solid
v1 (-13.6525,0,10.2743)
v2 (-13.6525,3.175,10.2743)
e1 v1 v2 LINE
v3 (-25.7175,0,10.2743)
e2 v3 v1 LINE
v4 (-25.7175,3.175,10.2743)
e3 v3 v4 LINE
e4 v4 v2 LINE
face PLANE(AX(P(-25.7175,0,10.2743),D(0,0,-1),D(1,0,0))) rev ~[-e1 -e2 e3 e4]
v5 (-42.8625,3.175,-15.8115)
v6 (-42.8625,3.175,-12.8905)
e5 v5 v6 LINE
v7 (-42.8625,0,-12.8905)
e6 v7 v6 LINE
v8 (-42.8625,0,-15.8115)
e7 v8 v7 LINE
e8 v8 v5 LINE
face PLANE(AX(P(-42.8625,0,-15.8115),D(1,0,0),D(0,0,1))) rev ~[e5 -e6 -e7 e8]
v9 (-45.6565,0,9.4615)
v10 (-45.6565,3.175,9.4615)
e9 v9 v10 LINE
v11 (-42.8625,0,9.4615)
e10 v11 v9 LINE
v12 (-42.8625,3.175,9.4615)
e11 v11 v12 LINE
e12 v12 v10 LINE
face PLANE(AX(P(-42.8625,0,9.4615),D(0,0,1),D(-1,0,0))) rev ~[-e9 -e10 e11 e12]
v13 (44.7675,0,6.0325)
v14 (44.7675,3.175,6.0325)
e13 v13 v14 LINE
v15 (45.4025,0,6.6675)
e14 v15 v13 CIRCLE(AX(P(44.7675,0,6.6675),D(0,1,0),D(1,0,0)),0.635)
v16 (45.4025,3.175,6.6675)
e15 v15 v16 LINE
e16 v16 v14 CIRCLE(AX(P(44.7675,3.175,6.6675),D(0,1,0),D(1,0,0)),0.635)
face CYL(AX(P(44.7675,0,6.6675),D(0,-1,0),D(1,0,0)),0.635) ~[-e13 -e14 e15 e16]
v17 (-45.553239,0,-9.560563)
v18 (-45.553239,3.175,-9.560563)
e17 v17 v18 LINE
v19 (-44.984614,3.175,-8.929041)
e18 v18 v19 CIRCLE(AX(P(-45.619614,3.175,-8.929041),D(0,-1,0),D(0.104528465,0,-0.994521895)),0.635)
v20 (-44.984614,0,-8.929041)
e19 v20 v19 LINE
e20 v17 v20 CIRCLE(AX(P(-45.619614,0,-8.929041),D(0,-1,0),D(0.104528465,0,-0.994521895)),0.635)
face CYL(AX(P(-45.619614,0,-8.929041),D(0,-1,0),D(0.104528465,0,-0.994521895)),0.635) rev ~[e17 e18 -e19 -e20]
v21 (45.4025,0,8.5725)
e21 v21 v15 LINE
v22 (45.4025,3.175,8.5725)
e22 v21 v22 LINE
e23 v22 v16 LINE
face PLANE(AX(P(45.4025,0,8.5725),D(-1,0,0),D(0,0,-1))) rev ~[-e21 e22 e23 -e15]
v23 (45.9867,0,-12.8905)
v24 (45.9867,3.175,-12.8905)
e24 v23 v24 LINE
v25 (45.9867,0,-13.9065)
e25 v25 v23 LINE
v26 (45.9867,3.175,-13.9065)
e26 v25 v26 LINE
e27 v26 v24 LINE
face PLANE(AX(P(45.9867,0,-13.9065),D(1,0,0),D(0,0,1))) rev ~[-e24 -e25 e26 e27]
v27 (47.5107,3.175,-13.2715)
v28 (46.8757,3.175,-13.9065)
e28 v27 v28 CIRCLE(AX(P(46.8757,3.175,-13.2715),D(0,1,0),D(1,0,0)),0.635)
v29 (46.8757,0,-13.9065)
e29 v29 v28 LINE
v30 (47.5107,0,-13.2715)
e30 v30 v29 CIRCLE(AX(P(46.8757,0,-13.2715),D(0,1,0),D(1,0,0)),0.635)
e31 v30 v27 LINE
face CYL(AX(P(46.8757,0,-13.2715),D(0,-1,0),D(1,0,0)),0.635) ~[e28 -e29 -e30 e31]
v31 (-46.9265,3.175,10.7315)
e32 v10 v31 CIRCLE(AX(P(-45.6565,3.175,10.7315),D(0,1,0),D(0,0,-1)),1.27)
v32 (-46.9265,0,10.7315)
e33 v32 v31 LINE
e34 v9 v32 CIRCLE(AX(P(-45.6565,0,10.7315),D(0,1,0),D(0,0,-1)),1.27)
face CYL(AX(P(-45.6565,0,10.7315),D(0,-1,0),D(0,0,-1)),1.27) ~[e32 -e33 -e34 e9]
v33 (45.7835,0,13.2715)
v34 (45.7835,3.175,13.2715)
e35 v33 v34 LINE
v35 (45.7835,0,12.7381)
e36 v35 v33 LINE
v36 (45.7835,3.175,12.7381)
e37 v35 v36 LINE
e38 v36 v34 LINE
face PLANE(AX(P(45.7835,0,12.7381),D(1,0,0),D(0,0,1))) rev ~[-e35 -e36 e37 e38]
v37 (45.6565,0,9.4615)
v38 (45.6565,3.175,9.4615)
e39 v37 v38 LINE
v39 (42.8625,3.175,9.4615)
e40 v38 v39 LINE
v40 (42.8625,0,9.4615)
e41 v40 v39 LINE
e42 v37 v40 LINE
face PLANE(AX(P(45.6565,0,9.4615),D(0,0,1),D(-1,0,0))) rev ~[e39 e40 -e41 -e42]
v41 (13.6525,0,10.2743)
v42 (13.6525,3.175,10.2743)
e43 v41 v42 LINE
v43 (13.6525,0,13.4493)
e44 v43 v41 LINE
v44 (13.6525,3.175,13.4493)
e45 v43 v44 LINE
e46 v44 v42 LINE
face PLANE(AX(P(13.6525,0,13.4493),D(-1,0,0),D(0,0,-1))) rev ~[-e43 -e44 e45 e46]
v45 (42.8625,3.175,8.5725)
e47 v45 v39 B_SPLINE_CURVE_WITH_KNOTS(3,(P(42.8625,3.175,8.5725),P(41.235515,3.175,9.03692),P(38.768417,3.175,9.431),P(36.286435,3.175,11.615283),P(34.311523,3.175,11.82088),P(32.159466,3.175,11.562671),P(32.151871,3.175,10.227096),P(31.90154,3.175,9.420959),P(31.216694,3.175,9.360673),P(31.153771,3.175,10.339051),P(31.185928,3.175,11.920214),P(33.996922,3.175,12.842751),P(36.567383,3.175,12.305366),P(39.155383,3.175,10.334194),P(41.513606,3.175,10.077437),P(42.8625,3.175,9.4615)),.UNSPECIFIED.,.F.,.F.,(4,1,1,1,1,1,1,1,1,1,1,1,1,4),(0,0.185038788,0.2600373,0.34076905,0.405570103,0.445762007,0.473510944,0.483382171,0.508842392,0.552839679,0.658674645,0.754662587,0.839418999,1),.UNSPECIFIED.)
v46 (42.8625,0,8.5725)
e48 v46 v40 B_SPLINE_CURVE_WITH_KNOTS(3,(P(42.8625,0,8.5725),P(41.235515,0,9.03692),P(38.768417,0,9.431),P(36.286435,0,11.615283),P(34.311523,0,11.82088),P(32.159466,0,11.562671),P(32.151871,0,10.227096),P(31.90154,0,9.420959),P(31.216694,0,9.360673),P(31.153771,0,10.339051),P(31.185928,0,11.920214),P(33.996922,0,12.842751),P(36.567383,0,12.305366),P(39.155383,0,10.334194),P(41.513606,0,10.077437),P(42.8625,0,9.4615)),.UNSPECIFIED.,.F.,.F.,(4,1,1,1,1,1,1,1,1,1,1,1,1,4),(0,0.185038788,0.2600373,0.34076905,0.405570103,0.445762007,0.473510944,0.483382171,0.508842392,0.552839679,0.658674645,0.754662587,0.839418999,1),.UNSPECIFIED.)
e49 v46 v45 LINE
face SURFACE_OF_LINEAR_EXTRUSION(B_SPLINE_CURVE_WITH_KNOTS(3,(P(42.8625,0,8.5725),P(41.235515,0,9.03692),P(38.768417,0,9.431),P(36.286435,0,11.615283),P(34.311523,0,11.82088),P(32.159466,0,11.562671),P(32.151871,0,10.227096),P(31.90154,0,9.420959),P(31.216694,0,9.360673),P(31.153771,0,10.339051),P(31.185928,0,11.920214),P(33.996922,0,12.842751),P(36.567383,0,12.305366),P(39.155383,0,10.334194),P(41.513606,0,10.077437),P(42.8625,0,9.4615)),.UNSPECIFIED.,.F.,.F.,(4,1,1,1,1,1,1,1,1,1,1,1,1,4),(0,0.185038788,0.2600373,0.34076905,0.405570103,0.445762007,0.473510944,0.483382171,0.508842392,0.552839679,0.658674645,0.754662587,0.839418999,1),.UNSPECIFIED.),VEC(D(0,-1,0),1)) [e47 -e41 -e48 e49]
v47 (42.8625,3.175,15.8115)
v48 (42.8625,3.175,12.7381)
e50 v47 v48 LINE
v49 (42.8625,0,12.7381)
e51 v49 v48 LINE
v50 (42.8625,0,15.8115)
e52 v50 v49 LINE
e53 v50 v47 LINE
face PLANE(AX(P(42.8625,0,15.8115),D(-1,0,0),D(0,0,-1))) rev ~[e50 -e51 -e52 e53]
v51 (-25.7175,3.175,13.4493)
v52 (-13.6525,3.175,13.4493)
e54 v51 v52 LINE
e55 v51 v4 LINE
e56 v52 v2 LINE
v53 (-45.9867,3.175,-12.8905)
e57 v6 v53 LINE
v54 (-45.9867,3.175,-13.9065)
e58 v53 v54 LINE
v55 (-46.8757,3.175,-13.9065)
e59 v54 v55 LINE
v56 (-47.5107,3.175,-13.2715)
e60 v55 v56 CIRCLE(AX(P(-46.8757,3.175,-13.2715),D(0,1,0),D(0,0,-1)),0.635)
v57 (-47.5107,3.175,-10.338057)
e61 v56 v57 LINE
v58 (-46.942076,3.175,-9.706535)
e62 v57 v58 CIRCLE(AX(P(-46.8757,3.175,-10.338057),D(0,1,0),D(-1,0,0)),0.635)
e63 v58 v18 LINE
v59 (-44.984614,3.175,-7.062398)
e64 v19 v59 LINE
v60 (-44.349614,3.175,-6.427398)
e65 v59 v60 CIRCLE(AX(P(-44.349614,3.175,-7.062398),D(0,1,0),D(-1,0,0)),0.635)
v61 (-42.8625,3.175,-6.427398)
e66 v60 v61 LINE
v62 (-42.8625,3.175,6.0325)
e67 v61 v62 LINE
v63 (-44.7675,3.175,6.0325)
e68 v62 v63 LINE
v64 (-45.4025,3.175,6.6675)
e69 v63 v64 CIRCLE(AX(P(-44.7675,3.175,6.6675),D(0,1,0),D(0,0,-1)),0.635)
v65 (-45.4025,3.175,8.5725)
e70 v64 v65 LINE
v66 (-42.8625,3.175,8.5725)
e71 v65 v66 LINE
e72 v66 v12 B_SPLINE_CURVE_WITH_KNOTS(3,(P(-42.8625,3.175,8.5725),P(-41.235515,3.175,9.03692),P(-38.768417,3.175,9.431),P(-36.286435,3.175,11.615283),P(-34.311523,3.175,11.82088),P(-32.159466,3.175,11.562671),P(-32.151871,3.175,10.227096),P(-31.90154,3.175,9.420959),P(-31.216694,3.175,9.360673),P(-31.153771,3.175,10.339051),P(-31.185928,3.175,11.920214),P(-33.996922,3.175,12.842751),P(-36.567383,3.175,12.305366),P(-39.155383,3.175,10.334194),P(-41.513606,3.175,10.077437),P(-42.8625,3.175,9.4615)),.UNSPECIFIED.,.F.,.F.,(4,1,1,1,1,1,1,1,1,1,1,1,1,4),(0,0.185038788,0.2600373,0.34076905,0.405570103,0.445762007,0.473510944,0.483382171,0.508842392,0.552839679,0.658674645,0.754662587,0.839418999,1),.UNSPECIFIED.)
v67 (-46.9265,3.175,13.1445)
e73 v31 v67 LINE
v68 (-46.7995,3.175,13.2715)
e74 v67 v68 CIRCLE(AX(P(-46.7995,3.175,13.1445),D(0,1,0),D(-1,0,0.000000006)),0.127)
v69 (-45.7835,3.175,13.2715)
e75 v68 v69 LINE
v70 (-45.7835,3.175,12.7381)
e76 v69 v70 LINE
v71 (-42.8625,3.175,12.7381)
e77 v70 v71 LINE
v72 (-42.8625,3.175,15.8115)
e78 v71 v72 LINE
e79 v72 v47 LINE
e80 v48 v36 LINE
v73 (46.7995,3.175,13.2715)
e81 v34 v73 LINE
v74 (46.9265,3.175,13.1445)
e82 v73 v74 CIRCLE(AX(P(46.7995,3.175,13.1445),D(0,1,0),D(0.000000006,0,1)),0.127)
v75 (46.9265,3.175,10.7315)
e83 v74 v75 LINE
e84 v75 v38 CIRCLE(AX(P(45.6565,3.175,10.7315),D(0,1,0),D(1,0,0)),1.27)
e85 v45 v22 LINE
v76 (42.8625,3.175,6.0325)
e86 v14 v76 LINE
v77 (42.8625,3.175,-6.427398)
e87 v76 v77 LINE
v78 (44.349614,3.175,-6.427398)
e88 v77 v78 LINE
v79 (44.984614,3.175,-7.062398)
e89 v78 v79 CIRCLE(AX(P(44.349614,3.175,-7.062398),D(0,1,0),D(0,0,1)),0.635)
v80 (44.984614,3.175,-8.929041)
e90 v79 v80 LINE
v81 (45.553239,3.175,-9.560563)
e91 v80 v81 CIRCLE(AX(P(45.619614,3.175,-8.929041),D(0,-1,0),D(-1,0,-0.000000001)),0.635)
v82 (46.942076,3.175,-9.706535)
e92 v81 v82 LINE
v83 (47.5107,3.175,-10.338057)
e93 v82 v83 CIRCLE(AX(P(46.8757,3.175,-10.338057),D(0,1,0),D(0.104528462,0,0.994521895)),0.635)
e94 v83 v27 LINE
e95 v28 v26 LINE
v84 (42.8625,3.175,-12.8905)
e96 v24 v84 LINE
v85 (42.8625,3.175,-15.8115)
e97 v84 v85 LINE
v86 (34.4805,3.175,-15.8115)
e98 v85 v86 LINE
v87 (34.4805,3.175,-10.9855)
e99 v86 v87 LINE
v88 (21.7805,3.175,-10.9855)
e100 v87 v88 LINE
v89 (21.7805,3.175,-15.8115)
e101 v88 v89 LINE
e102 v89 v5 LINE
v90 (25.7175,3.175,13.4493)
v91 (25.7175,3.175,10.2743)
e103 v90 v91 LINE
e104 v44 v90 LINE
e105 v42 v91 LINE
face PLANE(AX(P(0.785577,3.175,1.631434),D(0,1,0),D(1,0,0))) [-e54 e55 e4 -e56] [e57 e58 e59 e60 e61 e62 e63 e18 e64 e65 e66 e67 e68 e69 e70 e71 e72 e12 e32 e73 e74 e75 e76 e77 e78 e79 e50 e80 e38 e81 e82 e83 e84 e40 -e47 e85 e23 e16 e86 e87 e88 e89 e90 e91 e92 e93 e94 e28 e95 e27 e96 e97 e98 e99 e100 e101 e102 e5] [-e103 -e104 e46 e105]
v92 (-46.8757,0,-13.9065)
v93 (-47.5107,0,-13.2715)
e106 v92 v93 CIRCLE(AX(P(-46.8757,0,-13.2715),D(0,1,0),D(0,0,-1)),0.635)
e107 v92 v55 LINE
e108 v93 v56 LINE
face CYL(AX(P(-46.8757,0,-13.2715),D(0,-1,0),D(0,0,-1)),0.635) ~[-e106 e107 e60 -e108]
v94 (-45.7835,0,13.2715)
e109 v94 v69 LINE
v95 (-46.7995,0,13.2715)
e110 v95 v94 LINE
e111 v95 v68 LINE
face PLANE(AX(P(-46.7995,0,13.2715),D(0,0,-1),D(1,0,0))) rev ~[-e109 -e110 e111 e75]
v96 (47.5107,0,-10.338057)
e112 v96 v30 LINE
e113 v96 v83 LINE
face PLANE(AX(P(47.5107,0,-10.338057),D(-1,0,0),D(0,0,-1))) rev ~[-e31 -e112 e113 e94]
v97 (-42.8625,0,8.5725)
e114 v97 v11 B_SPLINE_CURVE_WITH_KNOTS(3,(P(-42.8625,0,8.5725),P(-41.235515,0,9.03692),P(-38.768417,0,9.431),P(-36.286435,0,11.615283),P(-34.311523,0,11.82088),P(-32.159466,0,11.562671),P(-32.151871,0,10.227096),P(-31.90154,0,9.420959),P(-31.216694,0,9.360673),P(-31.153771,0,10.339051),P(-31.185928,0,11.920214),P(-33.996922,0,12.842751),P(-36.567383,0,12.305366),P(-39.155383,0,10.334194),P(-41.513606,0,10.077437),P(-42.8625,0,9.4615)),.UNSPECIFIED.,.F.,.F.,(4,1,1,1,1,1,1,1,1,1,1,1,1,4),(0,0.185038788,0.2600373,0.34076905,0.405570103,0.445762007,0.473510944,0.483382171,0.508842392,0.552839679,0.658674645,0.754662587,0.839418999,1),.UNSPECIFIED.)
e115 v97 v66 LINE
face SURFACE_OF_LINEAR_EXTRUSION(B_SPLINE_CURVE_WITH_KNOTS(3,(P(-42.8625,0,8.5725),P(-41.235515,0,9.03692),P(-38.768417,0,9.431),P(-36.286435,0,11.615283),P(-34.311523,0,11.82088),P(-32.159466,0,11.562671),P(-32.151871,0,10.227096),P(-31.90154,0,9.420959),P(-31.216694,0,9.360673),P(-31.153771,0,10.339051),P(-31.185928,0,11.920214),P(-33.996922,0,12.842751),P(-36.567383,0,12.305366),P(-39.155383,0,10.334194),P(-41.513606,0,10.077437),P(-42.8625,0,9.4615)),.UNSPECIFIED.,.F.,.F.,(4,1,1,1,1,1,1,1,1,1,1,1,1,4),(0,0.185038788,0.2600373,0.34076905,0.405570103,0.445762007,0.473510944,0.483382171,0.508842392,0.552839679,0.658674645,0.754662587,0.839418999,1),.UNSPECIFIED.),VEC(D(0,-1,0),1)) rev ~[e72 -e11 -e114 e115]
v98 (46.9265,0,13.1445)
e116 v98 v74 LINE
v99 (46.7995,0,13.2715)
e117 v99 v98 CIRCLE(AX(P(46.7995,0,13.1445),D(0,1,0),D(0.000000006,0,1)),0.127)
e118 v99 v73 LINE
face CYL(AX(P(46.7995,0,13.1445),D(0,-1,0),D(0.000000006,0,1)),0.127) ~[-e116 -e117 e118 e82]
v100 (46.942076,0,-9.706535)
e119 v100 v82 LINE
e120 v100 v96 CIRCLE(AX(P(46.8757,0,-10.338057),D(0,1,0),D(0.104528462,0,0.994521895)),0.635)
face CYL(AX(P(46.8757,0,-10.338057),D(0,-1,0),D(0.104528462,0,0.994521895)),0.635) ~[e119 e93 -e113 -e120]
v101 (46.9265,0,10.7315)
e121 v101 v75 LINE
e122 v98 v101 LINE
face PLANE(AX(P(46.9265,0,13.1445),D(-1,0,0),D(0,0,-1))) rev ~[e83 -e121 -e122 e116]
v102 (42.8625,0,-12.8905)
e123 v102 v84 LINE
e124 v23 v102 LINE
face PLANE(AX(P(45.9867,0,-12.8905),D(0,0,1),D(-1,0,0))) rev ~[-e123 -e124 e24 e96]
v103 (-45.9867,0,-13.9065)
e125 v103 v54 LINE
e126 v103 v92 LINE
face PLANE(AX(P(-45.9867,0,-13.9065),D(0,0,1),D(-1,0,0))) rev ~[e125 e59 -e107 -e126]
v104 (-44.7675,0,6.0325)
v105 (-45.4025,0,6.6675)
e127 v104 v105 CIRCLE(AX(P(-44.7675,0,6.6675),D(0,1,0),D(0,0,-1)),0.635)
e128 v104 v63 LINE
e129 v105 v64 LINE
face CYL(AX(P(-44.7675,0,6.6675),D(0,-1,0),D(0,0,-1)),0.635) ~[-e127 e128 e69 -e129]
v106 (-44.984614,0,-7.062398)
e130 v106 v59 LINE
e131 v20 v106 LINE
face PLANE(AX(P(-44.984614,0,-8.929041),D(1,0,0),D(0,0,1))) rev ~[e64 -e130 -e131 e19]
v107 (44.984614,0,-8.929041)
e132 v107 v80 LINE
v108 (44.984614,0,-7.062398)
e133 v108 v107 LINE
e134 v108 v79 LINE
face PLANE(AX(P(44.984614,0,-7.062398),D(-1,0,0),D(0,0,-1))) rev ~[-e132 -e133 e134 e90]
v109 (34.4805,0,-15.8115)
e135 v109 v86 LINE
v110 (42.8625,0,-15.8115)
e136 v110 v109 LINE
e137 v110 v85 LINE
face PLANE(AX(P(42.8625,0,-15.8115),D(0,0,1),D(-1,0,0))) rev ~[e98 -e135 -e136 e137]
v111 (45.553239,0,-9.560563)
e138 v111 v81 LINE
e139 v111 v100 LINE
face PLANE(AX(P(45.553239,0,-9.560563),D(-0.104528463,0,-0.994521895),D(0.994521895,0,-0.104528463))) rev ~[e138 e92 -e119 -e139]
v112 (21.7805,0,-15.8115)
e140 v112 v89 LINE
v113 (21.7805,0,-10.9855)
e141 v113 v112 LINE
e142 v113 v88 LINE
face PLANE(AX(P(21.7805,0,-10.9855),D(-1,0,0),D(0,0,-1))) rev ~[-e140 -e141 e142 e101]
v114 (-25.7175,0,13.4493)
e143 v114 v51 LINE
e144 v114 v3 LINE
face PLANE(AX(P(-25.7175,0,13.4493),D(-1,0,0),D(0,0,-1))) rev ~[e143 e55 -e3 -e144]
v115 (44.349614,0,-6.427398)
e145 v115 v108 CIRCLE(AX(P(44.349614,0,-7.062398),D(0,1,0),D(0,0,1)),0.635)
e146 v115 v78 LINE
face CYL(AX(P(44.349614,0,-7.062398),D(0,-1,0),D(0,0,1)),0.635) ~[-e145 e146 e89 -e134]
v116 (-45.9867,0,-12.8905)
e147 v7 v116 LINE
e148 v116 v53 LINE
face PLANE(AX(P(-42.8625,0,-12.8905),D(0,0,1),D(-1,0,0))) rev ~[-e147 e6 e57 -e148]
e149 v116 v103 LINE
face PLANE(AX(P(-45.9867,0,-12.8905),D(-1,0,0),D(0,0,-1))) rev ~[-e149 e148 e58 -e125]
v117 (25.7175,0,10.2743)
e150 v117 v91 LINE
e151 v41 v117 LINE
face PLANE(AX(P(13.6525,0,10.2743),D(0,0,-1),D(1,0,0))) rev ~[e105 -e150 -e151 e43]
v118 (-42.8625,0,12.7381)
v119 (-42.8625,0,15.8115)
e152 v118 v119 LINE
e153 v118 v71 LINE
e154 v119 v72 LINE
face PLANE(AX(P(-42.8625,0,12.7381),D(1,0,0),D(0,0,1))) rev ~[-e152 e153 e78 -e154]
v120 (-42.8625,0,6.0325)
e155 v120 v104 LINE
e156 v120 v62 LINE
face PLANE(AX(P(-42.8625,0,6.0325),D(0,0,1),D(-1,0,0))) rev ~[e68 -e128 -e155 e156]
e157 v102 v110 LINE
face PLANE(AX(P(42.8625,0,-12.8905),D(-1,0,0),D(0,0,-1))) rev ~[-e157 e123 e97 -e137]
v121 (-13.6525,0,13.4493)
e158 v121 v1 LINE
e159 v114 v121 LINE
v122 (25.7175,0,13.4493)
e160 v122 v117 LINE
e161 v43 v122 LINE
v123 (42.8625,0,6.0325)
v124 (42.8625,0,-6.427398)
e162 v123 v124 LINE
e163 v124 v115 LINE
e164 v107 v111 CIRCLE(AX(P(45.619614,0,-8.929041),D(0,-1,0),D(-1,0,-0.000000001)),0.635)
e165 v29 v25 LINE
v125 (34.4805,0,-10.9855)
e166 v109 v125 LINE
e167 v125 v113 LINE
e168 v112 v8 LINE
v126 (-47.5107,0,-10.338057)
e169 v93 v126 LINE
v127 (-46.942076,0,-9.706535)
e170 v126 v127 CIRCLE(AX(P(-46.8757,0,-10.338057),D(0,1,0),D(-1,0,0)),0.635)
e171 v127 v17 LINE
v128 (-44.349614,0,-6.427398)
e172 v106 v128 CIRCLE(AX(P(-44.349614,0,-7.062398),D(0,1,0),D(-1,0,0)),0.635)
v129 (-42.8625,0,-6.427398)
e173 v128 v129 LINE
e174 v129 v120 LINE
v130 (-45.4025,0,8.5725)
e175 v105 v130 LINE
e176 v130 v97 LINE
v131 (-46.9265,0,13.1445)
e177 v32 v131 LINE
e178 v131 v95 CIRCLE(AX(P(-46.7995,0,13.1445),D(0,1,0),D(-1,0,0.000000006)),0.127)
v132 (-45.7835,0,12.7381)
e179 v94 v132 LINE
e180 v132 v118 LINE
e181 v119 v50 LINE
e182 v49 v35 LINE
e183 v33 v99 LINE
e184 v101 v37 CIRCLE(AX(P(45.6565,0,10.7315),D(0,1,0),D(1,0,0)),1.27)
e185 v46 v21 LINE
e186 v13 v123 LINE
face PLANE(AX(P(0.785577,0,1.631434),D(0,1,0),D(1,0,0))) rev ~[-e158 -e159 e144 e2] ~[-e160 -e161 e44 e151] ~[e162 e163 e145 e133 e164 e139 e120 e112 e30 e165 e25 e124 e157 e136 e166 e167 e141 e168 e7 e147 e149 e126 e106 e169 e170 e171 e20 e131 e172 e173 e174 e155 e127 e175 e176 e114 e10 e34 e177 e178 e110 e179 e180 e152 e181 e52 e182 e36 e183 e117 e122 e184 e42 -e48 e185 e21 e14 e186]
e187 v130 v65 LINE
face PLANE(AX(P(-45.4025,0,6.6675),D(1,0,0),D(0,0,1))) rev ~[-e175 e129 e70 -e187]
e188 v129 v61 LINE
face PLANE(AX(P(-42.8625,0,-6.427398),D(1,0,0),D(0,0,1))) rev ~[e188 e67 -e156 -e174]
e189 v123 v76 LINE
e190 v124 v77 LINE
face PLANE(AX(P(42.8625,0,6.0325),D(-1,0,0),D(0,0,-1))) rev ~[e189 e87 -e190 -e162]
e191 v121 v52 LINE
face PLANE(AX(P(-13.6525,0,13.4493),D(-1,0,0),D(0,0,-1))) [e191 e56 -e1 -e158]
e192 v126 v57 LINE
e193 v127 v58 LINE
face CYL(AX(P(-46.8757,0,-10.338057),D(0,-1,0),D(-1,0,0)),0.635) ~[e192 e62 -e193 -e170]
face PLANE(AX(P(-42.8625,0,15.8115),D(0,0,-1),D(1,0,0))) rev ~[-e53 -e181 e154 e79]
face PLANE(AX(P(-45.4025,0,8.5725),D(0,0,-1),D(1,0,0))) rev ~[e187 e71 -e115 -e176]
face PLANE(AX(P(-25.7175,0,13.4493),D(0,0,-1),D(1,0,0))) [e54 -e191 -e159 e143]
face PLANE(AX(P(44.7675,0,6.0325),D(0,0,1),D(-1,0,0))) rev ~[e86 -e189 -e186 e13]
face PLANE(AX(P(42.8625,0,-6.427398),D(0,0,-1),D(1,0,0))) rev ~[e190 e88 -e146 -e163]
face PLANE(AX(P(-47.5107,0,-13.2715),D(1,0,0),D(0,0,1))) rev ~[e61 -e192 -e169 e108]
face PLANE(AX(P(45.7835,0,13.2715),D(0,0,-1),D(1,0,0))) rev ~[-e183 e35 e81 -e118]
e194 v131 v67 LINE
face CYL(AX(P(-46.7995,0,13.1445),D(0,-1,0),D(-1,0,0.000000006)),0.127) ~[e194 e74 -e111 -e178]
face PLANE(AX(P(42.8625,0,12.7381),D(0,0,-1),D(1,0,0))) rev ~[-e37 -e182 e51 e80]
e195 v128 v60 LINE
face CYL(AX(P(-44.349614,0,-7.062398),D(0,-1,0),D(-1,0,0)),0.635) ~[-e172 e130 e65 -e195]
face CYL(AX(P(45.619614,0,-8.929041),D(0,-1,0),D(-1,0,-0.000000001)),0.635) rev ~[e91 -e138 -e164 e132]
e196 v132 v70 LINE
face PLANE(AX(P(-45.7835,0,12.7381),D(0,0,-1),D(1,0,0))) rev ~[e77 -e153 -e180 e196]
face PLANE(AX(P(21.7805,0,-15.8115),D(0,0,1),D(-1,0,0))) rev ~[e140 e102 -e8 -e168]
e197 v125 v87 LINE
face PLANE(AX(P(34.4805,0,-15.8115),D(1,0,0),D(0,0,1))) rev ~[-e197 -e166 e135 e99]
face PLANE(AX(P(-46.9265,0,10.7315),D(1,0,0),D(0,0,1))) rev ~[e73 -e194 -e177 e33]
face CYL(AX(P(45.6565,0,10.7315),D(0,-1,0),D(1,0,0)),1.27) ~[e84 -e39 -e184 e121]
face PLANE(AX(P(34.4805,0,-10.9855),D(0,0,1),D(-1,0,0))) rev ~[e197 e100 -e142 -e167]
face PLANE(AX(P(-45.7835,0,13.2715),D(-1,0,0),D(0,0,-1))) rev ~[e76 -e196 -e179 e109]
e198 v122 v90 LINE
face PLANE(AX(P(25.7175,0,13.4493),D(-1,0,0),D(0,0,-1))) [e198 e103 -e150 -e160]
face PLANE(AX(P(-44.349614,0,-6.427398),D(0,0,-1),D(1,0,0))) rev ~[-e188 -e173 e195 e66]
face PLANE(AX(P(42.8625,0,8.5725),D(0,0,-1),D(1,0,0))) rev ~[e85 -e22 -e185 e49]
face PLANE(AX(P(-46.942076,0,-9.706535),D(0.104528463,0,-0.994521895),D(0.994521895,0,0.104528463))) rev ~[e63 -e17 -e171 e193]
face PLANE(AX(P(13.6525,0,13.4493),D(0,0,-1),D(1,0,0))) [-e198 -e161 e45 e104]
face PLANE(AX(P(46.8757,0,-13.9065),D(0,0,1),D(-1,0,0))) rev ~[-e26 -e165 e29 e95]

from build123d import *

# Parameters (mm, degrees)
SKETCH1_W           = 12.065
SKETCH1_H           = 3.175
BOSS_EXTRUDE1_DEPTH = 3.175


with BuildPart() as part:
    # Sketch1 → Boss-Extrude1 (new body)
    with BuildSketch(Plane(origin=(0, 0, 0), x_dir=(1, 0, 0), z_dir=(0, 1, 0))):
        with BuildLine():
            Line((34.4805, 15.8115), (34.4805, 10.9855))
            Line((34.4805, 10.9855), (21.7805, 10.9855))
            Line((21.7805, 10.9855), (21.7805, 15.8115))
            Line((21.7805, 15.8115), (-42.8625, 15.8115))
            Line((-42.8625, 15.8115), (-42.8625, 12.8905))
            Line((-42.8625, 12.8905), (-45.9867, 12.8905))
            Line((-45.9867, 12.8905), (-45.9867, 13.9065))
            Line((-45.9867, 13.9065), (-46.8757, 13.9065))
            ThreePointArc((-46.8757, 13.9065), (-47.324712806, 13.720512806), (-47.5107, 13.2715))
            Line((-47.5107, 13.2715), (-47.5107, 10.338056568))
            ThreePointArc((-47.5107, 10.338056568), (-47.347596964, 9.913158633), (-46.942075574, 9.706535165))
            Line((-46.942075574, 9.706535165), (-45.553238812, 9.560562539))
            ThreePointArc((-45.553238812, 9.560562539), (-45.147717422, 9.35393907), (-44.984614386, 8.929041135))
            Line((-44.984614386, 8.929041135), (-44.984614386, 7.062397703))
            ThreePointArc((-44.984614386, 7.062397703), (-44.798627192, 6.613384897), (-44.349614386, 6.427397703))
            Line((-44.349614386, 6.427397703), (-42.8625, 6.427397703))
            Line((-42.8625, 6.427397703), (-42.8625, -6.0325))
            Line((-42.8625, -6.0325), (-44.7675, -6.0325))
            ThreePointArc((-44.7675, -6.0325), (-45.216512806, -6.218487194), (-45.4025, -6.6675))
            Line((-45.4025, -6.6675), (-45.4025, -8.5725))
            Line((-45.4025, -8.5725), (-42.8625, -8.5725))
            add(Edge.make_bspline(
                [(-42.8625, -8.5725), (-41.235514661, -9.036919587), (-38.768416682, -9.43100007), (-36.286434981, -11.615283006), (-34.311523372, -11.820880416), (-32.159465718, -11.562671007), (-32.151870508, -10.227095557), (-31.90154009, -9.420959036), (-31.216693805, -9.360673169), (-31.153771417, -10.339051438), (-31.185927723, -11.920214415), (-33.996921582, -12.842750973), (-36.567382688, -12.305365627), (-39.155382597, -10.334194407), (-41.513606262, -10.077437392), (-42.8625, -9.4615)],
                knots=[0, 0, 0, 0, 0.185038788, 0.2600373, 0.34076905, 0.405570103, 0.445762007, 0.473510944, 0.483382171, 0.508842392, 0.552839679, 0.658674645, 0.754662587, 0.839418999, 1, 1, 1, 1], degree=3))
            Line((-42.8625, -9.4615), (-45.298270377, -9.4615))
            Line((-45.298270377, -9.4615), (-45.6565, -9.4615))
            ThreePointArc((-45.6565, -9.4615), (-46.554525612, -9.833474388), (-46.9265, -10.7315))
            Line((-46.9265, -10.7315), (-46.9265, -13.1445))
            ThreePointArc((-46.9265, -13.1445), (-46.889302561, -13.234302561), (-46.7995, -13.2715))
            Line((-46.7995, -13.2715), (-45.7835, -13.2715))
            Line((-45.7835, -13.2715), (-45.7835, -12.7381))
            Line((-45.7835, -12.7381), (-42.8625, -12.7381))
            Line((-42.8625, -12.7381), (-42.8625, -15.8115))
            Line((-42.8625, -15.8115), (42.8625, -15.8115))
            Line((42.8625, -15.8115), (42.8625, -12.7381))
            Line((42.8625, -12.7381), (45.7835, -12.7381))
            Line((45.7835, -12.7381), (45.7835, -13.2715))
            Line((45.7835, -13.2715), (46.7995, -13.2715))
            ThreePointArc((46.7995, -13.2715), (46.889302561, -13.234302561), (46.9265, -13.1445))
            Line((46.9265, -13.1445), (46.9265, -10.7315))
            ThreePointArc((46.9265, -10.7315), (46.554525612, -9.833474388), (45.6565, -9.4615))
            Line((45.6565, -9.4615), (45.298270377, -9.4615))
            Line((45.298270377, -9.4615), (42.8625, -9.4615))
            add(Edge.make_bspline(
                [(42.8625, -8.5725), (41.235514661, -9.036919587), (38.768416682, -9.43100007), (36.286434981, -11.615283006), (34.311523372, -11.820880416), (32.159465718, -11.562671007), (32.151870508, -10.227095557), (31.90154009, -9.420959036), (31.216693805, -9.360673169), (31.153771417, -10.339051438), (31.185927723, -11.920214415), (33.996921582, -12.842750973), (36.567382688, -12.305365627), (39.155382597, -10.334194407), (41.513606262, -10.077437392), (42.8625, -9.4615)],
                knots=[0, 0, 0, 0, 0.185038788, 0.2600373, 0.34076905, 0.405570103, 0.445762007, 0.473510944, 0.483382171, 0.508842392, 0.552839679, 0.658674645, 0.754662587, 0.839418999, 1, 1, 1, 1], degree=3))
            Line((42.8625, -8.5725), (45.4025, -8.5725))
            Line((45.4025, -8.5725), (45.4025, -6.6675))
            ThreePointArc((45.4025, -6.6675), (45.216512806, -6.218487194), (44.7675, -6.0325))
            Line((44.7675, -6.0325), (42.8625, -6.0325))
            Line((42.8625, -6.0325), (42.8625, 6.427397703))
            Line((42.8625, 6.427397703), (44.349614386, 6.427397703))
            ThreePointArc((44.349614386, 6.427397703), (44.798627192, 6.613384897), (44.984614386, 7.062397703))
            Line((44.984614386, 7.062397703), (44.984614386, 8.929041135))
            ThreePointArc((44.984614386, 8.929041135), (45.147717422, 9.35393907), (45.553238812, 9.560562539))
            Line((45.553238812, 9.560562539), (46.942075574, 9.706535165))
            ThreePointArc((46.942075574, 9.706535165), (47.347596964, 9.913158633), (47.5107, 10.338056568))
            Line((47.5107, 10.338056568), (47.5107, 13.2715))
            ThreePointArc((47.5107, 13.2715), (47.324712806, 13.720512806), (46.8757, 13.9065))
            Line((46.8757, 13.9065), (45.9867, 13.9065))
            Line((45.9867, 13.9065), (45.9867, 12.8905))
            Line((45.9867, 12.8905), (42.8625, 12.8905))
            Line((42.8625, 12.8905), (42.8625, 15.8115))
            Line((42.8625, 15.8115), (34.4805, 15.8115))
        make_face()
        with Locations((19.685, -11.8618)):
            Rectangle(SKETCH1_W, SKETCH1_H, mode=Mode.SUBTRACT)
        with Locations((-19.685, -11.8618)):
            Rectangle(SKETCH1_W, SKETCH1_H, mode=Mode.SUBTRACT)
    extrude(amount=BOSS_EXTRUDE1_DEPTH)


solid = part.part
